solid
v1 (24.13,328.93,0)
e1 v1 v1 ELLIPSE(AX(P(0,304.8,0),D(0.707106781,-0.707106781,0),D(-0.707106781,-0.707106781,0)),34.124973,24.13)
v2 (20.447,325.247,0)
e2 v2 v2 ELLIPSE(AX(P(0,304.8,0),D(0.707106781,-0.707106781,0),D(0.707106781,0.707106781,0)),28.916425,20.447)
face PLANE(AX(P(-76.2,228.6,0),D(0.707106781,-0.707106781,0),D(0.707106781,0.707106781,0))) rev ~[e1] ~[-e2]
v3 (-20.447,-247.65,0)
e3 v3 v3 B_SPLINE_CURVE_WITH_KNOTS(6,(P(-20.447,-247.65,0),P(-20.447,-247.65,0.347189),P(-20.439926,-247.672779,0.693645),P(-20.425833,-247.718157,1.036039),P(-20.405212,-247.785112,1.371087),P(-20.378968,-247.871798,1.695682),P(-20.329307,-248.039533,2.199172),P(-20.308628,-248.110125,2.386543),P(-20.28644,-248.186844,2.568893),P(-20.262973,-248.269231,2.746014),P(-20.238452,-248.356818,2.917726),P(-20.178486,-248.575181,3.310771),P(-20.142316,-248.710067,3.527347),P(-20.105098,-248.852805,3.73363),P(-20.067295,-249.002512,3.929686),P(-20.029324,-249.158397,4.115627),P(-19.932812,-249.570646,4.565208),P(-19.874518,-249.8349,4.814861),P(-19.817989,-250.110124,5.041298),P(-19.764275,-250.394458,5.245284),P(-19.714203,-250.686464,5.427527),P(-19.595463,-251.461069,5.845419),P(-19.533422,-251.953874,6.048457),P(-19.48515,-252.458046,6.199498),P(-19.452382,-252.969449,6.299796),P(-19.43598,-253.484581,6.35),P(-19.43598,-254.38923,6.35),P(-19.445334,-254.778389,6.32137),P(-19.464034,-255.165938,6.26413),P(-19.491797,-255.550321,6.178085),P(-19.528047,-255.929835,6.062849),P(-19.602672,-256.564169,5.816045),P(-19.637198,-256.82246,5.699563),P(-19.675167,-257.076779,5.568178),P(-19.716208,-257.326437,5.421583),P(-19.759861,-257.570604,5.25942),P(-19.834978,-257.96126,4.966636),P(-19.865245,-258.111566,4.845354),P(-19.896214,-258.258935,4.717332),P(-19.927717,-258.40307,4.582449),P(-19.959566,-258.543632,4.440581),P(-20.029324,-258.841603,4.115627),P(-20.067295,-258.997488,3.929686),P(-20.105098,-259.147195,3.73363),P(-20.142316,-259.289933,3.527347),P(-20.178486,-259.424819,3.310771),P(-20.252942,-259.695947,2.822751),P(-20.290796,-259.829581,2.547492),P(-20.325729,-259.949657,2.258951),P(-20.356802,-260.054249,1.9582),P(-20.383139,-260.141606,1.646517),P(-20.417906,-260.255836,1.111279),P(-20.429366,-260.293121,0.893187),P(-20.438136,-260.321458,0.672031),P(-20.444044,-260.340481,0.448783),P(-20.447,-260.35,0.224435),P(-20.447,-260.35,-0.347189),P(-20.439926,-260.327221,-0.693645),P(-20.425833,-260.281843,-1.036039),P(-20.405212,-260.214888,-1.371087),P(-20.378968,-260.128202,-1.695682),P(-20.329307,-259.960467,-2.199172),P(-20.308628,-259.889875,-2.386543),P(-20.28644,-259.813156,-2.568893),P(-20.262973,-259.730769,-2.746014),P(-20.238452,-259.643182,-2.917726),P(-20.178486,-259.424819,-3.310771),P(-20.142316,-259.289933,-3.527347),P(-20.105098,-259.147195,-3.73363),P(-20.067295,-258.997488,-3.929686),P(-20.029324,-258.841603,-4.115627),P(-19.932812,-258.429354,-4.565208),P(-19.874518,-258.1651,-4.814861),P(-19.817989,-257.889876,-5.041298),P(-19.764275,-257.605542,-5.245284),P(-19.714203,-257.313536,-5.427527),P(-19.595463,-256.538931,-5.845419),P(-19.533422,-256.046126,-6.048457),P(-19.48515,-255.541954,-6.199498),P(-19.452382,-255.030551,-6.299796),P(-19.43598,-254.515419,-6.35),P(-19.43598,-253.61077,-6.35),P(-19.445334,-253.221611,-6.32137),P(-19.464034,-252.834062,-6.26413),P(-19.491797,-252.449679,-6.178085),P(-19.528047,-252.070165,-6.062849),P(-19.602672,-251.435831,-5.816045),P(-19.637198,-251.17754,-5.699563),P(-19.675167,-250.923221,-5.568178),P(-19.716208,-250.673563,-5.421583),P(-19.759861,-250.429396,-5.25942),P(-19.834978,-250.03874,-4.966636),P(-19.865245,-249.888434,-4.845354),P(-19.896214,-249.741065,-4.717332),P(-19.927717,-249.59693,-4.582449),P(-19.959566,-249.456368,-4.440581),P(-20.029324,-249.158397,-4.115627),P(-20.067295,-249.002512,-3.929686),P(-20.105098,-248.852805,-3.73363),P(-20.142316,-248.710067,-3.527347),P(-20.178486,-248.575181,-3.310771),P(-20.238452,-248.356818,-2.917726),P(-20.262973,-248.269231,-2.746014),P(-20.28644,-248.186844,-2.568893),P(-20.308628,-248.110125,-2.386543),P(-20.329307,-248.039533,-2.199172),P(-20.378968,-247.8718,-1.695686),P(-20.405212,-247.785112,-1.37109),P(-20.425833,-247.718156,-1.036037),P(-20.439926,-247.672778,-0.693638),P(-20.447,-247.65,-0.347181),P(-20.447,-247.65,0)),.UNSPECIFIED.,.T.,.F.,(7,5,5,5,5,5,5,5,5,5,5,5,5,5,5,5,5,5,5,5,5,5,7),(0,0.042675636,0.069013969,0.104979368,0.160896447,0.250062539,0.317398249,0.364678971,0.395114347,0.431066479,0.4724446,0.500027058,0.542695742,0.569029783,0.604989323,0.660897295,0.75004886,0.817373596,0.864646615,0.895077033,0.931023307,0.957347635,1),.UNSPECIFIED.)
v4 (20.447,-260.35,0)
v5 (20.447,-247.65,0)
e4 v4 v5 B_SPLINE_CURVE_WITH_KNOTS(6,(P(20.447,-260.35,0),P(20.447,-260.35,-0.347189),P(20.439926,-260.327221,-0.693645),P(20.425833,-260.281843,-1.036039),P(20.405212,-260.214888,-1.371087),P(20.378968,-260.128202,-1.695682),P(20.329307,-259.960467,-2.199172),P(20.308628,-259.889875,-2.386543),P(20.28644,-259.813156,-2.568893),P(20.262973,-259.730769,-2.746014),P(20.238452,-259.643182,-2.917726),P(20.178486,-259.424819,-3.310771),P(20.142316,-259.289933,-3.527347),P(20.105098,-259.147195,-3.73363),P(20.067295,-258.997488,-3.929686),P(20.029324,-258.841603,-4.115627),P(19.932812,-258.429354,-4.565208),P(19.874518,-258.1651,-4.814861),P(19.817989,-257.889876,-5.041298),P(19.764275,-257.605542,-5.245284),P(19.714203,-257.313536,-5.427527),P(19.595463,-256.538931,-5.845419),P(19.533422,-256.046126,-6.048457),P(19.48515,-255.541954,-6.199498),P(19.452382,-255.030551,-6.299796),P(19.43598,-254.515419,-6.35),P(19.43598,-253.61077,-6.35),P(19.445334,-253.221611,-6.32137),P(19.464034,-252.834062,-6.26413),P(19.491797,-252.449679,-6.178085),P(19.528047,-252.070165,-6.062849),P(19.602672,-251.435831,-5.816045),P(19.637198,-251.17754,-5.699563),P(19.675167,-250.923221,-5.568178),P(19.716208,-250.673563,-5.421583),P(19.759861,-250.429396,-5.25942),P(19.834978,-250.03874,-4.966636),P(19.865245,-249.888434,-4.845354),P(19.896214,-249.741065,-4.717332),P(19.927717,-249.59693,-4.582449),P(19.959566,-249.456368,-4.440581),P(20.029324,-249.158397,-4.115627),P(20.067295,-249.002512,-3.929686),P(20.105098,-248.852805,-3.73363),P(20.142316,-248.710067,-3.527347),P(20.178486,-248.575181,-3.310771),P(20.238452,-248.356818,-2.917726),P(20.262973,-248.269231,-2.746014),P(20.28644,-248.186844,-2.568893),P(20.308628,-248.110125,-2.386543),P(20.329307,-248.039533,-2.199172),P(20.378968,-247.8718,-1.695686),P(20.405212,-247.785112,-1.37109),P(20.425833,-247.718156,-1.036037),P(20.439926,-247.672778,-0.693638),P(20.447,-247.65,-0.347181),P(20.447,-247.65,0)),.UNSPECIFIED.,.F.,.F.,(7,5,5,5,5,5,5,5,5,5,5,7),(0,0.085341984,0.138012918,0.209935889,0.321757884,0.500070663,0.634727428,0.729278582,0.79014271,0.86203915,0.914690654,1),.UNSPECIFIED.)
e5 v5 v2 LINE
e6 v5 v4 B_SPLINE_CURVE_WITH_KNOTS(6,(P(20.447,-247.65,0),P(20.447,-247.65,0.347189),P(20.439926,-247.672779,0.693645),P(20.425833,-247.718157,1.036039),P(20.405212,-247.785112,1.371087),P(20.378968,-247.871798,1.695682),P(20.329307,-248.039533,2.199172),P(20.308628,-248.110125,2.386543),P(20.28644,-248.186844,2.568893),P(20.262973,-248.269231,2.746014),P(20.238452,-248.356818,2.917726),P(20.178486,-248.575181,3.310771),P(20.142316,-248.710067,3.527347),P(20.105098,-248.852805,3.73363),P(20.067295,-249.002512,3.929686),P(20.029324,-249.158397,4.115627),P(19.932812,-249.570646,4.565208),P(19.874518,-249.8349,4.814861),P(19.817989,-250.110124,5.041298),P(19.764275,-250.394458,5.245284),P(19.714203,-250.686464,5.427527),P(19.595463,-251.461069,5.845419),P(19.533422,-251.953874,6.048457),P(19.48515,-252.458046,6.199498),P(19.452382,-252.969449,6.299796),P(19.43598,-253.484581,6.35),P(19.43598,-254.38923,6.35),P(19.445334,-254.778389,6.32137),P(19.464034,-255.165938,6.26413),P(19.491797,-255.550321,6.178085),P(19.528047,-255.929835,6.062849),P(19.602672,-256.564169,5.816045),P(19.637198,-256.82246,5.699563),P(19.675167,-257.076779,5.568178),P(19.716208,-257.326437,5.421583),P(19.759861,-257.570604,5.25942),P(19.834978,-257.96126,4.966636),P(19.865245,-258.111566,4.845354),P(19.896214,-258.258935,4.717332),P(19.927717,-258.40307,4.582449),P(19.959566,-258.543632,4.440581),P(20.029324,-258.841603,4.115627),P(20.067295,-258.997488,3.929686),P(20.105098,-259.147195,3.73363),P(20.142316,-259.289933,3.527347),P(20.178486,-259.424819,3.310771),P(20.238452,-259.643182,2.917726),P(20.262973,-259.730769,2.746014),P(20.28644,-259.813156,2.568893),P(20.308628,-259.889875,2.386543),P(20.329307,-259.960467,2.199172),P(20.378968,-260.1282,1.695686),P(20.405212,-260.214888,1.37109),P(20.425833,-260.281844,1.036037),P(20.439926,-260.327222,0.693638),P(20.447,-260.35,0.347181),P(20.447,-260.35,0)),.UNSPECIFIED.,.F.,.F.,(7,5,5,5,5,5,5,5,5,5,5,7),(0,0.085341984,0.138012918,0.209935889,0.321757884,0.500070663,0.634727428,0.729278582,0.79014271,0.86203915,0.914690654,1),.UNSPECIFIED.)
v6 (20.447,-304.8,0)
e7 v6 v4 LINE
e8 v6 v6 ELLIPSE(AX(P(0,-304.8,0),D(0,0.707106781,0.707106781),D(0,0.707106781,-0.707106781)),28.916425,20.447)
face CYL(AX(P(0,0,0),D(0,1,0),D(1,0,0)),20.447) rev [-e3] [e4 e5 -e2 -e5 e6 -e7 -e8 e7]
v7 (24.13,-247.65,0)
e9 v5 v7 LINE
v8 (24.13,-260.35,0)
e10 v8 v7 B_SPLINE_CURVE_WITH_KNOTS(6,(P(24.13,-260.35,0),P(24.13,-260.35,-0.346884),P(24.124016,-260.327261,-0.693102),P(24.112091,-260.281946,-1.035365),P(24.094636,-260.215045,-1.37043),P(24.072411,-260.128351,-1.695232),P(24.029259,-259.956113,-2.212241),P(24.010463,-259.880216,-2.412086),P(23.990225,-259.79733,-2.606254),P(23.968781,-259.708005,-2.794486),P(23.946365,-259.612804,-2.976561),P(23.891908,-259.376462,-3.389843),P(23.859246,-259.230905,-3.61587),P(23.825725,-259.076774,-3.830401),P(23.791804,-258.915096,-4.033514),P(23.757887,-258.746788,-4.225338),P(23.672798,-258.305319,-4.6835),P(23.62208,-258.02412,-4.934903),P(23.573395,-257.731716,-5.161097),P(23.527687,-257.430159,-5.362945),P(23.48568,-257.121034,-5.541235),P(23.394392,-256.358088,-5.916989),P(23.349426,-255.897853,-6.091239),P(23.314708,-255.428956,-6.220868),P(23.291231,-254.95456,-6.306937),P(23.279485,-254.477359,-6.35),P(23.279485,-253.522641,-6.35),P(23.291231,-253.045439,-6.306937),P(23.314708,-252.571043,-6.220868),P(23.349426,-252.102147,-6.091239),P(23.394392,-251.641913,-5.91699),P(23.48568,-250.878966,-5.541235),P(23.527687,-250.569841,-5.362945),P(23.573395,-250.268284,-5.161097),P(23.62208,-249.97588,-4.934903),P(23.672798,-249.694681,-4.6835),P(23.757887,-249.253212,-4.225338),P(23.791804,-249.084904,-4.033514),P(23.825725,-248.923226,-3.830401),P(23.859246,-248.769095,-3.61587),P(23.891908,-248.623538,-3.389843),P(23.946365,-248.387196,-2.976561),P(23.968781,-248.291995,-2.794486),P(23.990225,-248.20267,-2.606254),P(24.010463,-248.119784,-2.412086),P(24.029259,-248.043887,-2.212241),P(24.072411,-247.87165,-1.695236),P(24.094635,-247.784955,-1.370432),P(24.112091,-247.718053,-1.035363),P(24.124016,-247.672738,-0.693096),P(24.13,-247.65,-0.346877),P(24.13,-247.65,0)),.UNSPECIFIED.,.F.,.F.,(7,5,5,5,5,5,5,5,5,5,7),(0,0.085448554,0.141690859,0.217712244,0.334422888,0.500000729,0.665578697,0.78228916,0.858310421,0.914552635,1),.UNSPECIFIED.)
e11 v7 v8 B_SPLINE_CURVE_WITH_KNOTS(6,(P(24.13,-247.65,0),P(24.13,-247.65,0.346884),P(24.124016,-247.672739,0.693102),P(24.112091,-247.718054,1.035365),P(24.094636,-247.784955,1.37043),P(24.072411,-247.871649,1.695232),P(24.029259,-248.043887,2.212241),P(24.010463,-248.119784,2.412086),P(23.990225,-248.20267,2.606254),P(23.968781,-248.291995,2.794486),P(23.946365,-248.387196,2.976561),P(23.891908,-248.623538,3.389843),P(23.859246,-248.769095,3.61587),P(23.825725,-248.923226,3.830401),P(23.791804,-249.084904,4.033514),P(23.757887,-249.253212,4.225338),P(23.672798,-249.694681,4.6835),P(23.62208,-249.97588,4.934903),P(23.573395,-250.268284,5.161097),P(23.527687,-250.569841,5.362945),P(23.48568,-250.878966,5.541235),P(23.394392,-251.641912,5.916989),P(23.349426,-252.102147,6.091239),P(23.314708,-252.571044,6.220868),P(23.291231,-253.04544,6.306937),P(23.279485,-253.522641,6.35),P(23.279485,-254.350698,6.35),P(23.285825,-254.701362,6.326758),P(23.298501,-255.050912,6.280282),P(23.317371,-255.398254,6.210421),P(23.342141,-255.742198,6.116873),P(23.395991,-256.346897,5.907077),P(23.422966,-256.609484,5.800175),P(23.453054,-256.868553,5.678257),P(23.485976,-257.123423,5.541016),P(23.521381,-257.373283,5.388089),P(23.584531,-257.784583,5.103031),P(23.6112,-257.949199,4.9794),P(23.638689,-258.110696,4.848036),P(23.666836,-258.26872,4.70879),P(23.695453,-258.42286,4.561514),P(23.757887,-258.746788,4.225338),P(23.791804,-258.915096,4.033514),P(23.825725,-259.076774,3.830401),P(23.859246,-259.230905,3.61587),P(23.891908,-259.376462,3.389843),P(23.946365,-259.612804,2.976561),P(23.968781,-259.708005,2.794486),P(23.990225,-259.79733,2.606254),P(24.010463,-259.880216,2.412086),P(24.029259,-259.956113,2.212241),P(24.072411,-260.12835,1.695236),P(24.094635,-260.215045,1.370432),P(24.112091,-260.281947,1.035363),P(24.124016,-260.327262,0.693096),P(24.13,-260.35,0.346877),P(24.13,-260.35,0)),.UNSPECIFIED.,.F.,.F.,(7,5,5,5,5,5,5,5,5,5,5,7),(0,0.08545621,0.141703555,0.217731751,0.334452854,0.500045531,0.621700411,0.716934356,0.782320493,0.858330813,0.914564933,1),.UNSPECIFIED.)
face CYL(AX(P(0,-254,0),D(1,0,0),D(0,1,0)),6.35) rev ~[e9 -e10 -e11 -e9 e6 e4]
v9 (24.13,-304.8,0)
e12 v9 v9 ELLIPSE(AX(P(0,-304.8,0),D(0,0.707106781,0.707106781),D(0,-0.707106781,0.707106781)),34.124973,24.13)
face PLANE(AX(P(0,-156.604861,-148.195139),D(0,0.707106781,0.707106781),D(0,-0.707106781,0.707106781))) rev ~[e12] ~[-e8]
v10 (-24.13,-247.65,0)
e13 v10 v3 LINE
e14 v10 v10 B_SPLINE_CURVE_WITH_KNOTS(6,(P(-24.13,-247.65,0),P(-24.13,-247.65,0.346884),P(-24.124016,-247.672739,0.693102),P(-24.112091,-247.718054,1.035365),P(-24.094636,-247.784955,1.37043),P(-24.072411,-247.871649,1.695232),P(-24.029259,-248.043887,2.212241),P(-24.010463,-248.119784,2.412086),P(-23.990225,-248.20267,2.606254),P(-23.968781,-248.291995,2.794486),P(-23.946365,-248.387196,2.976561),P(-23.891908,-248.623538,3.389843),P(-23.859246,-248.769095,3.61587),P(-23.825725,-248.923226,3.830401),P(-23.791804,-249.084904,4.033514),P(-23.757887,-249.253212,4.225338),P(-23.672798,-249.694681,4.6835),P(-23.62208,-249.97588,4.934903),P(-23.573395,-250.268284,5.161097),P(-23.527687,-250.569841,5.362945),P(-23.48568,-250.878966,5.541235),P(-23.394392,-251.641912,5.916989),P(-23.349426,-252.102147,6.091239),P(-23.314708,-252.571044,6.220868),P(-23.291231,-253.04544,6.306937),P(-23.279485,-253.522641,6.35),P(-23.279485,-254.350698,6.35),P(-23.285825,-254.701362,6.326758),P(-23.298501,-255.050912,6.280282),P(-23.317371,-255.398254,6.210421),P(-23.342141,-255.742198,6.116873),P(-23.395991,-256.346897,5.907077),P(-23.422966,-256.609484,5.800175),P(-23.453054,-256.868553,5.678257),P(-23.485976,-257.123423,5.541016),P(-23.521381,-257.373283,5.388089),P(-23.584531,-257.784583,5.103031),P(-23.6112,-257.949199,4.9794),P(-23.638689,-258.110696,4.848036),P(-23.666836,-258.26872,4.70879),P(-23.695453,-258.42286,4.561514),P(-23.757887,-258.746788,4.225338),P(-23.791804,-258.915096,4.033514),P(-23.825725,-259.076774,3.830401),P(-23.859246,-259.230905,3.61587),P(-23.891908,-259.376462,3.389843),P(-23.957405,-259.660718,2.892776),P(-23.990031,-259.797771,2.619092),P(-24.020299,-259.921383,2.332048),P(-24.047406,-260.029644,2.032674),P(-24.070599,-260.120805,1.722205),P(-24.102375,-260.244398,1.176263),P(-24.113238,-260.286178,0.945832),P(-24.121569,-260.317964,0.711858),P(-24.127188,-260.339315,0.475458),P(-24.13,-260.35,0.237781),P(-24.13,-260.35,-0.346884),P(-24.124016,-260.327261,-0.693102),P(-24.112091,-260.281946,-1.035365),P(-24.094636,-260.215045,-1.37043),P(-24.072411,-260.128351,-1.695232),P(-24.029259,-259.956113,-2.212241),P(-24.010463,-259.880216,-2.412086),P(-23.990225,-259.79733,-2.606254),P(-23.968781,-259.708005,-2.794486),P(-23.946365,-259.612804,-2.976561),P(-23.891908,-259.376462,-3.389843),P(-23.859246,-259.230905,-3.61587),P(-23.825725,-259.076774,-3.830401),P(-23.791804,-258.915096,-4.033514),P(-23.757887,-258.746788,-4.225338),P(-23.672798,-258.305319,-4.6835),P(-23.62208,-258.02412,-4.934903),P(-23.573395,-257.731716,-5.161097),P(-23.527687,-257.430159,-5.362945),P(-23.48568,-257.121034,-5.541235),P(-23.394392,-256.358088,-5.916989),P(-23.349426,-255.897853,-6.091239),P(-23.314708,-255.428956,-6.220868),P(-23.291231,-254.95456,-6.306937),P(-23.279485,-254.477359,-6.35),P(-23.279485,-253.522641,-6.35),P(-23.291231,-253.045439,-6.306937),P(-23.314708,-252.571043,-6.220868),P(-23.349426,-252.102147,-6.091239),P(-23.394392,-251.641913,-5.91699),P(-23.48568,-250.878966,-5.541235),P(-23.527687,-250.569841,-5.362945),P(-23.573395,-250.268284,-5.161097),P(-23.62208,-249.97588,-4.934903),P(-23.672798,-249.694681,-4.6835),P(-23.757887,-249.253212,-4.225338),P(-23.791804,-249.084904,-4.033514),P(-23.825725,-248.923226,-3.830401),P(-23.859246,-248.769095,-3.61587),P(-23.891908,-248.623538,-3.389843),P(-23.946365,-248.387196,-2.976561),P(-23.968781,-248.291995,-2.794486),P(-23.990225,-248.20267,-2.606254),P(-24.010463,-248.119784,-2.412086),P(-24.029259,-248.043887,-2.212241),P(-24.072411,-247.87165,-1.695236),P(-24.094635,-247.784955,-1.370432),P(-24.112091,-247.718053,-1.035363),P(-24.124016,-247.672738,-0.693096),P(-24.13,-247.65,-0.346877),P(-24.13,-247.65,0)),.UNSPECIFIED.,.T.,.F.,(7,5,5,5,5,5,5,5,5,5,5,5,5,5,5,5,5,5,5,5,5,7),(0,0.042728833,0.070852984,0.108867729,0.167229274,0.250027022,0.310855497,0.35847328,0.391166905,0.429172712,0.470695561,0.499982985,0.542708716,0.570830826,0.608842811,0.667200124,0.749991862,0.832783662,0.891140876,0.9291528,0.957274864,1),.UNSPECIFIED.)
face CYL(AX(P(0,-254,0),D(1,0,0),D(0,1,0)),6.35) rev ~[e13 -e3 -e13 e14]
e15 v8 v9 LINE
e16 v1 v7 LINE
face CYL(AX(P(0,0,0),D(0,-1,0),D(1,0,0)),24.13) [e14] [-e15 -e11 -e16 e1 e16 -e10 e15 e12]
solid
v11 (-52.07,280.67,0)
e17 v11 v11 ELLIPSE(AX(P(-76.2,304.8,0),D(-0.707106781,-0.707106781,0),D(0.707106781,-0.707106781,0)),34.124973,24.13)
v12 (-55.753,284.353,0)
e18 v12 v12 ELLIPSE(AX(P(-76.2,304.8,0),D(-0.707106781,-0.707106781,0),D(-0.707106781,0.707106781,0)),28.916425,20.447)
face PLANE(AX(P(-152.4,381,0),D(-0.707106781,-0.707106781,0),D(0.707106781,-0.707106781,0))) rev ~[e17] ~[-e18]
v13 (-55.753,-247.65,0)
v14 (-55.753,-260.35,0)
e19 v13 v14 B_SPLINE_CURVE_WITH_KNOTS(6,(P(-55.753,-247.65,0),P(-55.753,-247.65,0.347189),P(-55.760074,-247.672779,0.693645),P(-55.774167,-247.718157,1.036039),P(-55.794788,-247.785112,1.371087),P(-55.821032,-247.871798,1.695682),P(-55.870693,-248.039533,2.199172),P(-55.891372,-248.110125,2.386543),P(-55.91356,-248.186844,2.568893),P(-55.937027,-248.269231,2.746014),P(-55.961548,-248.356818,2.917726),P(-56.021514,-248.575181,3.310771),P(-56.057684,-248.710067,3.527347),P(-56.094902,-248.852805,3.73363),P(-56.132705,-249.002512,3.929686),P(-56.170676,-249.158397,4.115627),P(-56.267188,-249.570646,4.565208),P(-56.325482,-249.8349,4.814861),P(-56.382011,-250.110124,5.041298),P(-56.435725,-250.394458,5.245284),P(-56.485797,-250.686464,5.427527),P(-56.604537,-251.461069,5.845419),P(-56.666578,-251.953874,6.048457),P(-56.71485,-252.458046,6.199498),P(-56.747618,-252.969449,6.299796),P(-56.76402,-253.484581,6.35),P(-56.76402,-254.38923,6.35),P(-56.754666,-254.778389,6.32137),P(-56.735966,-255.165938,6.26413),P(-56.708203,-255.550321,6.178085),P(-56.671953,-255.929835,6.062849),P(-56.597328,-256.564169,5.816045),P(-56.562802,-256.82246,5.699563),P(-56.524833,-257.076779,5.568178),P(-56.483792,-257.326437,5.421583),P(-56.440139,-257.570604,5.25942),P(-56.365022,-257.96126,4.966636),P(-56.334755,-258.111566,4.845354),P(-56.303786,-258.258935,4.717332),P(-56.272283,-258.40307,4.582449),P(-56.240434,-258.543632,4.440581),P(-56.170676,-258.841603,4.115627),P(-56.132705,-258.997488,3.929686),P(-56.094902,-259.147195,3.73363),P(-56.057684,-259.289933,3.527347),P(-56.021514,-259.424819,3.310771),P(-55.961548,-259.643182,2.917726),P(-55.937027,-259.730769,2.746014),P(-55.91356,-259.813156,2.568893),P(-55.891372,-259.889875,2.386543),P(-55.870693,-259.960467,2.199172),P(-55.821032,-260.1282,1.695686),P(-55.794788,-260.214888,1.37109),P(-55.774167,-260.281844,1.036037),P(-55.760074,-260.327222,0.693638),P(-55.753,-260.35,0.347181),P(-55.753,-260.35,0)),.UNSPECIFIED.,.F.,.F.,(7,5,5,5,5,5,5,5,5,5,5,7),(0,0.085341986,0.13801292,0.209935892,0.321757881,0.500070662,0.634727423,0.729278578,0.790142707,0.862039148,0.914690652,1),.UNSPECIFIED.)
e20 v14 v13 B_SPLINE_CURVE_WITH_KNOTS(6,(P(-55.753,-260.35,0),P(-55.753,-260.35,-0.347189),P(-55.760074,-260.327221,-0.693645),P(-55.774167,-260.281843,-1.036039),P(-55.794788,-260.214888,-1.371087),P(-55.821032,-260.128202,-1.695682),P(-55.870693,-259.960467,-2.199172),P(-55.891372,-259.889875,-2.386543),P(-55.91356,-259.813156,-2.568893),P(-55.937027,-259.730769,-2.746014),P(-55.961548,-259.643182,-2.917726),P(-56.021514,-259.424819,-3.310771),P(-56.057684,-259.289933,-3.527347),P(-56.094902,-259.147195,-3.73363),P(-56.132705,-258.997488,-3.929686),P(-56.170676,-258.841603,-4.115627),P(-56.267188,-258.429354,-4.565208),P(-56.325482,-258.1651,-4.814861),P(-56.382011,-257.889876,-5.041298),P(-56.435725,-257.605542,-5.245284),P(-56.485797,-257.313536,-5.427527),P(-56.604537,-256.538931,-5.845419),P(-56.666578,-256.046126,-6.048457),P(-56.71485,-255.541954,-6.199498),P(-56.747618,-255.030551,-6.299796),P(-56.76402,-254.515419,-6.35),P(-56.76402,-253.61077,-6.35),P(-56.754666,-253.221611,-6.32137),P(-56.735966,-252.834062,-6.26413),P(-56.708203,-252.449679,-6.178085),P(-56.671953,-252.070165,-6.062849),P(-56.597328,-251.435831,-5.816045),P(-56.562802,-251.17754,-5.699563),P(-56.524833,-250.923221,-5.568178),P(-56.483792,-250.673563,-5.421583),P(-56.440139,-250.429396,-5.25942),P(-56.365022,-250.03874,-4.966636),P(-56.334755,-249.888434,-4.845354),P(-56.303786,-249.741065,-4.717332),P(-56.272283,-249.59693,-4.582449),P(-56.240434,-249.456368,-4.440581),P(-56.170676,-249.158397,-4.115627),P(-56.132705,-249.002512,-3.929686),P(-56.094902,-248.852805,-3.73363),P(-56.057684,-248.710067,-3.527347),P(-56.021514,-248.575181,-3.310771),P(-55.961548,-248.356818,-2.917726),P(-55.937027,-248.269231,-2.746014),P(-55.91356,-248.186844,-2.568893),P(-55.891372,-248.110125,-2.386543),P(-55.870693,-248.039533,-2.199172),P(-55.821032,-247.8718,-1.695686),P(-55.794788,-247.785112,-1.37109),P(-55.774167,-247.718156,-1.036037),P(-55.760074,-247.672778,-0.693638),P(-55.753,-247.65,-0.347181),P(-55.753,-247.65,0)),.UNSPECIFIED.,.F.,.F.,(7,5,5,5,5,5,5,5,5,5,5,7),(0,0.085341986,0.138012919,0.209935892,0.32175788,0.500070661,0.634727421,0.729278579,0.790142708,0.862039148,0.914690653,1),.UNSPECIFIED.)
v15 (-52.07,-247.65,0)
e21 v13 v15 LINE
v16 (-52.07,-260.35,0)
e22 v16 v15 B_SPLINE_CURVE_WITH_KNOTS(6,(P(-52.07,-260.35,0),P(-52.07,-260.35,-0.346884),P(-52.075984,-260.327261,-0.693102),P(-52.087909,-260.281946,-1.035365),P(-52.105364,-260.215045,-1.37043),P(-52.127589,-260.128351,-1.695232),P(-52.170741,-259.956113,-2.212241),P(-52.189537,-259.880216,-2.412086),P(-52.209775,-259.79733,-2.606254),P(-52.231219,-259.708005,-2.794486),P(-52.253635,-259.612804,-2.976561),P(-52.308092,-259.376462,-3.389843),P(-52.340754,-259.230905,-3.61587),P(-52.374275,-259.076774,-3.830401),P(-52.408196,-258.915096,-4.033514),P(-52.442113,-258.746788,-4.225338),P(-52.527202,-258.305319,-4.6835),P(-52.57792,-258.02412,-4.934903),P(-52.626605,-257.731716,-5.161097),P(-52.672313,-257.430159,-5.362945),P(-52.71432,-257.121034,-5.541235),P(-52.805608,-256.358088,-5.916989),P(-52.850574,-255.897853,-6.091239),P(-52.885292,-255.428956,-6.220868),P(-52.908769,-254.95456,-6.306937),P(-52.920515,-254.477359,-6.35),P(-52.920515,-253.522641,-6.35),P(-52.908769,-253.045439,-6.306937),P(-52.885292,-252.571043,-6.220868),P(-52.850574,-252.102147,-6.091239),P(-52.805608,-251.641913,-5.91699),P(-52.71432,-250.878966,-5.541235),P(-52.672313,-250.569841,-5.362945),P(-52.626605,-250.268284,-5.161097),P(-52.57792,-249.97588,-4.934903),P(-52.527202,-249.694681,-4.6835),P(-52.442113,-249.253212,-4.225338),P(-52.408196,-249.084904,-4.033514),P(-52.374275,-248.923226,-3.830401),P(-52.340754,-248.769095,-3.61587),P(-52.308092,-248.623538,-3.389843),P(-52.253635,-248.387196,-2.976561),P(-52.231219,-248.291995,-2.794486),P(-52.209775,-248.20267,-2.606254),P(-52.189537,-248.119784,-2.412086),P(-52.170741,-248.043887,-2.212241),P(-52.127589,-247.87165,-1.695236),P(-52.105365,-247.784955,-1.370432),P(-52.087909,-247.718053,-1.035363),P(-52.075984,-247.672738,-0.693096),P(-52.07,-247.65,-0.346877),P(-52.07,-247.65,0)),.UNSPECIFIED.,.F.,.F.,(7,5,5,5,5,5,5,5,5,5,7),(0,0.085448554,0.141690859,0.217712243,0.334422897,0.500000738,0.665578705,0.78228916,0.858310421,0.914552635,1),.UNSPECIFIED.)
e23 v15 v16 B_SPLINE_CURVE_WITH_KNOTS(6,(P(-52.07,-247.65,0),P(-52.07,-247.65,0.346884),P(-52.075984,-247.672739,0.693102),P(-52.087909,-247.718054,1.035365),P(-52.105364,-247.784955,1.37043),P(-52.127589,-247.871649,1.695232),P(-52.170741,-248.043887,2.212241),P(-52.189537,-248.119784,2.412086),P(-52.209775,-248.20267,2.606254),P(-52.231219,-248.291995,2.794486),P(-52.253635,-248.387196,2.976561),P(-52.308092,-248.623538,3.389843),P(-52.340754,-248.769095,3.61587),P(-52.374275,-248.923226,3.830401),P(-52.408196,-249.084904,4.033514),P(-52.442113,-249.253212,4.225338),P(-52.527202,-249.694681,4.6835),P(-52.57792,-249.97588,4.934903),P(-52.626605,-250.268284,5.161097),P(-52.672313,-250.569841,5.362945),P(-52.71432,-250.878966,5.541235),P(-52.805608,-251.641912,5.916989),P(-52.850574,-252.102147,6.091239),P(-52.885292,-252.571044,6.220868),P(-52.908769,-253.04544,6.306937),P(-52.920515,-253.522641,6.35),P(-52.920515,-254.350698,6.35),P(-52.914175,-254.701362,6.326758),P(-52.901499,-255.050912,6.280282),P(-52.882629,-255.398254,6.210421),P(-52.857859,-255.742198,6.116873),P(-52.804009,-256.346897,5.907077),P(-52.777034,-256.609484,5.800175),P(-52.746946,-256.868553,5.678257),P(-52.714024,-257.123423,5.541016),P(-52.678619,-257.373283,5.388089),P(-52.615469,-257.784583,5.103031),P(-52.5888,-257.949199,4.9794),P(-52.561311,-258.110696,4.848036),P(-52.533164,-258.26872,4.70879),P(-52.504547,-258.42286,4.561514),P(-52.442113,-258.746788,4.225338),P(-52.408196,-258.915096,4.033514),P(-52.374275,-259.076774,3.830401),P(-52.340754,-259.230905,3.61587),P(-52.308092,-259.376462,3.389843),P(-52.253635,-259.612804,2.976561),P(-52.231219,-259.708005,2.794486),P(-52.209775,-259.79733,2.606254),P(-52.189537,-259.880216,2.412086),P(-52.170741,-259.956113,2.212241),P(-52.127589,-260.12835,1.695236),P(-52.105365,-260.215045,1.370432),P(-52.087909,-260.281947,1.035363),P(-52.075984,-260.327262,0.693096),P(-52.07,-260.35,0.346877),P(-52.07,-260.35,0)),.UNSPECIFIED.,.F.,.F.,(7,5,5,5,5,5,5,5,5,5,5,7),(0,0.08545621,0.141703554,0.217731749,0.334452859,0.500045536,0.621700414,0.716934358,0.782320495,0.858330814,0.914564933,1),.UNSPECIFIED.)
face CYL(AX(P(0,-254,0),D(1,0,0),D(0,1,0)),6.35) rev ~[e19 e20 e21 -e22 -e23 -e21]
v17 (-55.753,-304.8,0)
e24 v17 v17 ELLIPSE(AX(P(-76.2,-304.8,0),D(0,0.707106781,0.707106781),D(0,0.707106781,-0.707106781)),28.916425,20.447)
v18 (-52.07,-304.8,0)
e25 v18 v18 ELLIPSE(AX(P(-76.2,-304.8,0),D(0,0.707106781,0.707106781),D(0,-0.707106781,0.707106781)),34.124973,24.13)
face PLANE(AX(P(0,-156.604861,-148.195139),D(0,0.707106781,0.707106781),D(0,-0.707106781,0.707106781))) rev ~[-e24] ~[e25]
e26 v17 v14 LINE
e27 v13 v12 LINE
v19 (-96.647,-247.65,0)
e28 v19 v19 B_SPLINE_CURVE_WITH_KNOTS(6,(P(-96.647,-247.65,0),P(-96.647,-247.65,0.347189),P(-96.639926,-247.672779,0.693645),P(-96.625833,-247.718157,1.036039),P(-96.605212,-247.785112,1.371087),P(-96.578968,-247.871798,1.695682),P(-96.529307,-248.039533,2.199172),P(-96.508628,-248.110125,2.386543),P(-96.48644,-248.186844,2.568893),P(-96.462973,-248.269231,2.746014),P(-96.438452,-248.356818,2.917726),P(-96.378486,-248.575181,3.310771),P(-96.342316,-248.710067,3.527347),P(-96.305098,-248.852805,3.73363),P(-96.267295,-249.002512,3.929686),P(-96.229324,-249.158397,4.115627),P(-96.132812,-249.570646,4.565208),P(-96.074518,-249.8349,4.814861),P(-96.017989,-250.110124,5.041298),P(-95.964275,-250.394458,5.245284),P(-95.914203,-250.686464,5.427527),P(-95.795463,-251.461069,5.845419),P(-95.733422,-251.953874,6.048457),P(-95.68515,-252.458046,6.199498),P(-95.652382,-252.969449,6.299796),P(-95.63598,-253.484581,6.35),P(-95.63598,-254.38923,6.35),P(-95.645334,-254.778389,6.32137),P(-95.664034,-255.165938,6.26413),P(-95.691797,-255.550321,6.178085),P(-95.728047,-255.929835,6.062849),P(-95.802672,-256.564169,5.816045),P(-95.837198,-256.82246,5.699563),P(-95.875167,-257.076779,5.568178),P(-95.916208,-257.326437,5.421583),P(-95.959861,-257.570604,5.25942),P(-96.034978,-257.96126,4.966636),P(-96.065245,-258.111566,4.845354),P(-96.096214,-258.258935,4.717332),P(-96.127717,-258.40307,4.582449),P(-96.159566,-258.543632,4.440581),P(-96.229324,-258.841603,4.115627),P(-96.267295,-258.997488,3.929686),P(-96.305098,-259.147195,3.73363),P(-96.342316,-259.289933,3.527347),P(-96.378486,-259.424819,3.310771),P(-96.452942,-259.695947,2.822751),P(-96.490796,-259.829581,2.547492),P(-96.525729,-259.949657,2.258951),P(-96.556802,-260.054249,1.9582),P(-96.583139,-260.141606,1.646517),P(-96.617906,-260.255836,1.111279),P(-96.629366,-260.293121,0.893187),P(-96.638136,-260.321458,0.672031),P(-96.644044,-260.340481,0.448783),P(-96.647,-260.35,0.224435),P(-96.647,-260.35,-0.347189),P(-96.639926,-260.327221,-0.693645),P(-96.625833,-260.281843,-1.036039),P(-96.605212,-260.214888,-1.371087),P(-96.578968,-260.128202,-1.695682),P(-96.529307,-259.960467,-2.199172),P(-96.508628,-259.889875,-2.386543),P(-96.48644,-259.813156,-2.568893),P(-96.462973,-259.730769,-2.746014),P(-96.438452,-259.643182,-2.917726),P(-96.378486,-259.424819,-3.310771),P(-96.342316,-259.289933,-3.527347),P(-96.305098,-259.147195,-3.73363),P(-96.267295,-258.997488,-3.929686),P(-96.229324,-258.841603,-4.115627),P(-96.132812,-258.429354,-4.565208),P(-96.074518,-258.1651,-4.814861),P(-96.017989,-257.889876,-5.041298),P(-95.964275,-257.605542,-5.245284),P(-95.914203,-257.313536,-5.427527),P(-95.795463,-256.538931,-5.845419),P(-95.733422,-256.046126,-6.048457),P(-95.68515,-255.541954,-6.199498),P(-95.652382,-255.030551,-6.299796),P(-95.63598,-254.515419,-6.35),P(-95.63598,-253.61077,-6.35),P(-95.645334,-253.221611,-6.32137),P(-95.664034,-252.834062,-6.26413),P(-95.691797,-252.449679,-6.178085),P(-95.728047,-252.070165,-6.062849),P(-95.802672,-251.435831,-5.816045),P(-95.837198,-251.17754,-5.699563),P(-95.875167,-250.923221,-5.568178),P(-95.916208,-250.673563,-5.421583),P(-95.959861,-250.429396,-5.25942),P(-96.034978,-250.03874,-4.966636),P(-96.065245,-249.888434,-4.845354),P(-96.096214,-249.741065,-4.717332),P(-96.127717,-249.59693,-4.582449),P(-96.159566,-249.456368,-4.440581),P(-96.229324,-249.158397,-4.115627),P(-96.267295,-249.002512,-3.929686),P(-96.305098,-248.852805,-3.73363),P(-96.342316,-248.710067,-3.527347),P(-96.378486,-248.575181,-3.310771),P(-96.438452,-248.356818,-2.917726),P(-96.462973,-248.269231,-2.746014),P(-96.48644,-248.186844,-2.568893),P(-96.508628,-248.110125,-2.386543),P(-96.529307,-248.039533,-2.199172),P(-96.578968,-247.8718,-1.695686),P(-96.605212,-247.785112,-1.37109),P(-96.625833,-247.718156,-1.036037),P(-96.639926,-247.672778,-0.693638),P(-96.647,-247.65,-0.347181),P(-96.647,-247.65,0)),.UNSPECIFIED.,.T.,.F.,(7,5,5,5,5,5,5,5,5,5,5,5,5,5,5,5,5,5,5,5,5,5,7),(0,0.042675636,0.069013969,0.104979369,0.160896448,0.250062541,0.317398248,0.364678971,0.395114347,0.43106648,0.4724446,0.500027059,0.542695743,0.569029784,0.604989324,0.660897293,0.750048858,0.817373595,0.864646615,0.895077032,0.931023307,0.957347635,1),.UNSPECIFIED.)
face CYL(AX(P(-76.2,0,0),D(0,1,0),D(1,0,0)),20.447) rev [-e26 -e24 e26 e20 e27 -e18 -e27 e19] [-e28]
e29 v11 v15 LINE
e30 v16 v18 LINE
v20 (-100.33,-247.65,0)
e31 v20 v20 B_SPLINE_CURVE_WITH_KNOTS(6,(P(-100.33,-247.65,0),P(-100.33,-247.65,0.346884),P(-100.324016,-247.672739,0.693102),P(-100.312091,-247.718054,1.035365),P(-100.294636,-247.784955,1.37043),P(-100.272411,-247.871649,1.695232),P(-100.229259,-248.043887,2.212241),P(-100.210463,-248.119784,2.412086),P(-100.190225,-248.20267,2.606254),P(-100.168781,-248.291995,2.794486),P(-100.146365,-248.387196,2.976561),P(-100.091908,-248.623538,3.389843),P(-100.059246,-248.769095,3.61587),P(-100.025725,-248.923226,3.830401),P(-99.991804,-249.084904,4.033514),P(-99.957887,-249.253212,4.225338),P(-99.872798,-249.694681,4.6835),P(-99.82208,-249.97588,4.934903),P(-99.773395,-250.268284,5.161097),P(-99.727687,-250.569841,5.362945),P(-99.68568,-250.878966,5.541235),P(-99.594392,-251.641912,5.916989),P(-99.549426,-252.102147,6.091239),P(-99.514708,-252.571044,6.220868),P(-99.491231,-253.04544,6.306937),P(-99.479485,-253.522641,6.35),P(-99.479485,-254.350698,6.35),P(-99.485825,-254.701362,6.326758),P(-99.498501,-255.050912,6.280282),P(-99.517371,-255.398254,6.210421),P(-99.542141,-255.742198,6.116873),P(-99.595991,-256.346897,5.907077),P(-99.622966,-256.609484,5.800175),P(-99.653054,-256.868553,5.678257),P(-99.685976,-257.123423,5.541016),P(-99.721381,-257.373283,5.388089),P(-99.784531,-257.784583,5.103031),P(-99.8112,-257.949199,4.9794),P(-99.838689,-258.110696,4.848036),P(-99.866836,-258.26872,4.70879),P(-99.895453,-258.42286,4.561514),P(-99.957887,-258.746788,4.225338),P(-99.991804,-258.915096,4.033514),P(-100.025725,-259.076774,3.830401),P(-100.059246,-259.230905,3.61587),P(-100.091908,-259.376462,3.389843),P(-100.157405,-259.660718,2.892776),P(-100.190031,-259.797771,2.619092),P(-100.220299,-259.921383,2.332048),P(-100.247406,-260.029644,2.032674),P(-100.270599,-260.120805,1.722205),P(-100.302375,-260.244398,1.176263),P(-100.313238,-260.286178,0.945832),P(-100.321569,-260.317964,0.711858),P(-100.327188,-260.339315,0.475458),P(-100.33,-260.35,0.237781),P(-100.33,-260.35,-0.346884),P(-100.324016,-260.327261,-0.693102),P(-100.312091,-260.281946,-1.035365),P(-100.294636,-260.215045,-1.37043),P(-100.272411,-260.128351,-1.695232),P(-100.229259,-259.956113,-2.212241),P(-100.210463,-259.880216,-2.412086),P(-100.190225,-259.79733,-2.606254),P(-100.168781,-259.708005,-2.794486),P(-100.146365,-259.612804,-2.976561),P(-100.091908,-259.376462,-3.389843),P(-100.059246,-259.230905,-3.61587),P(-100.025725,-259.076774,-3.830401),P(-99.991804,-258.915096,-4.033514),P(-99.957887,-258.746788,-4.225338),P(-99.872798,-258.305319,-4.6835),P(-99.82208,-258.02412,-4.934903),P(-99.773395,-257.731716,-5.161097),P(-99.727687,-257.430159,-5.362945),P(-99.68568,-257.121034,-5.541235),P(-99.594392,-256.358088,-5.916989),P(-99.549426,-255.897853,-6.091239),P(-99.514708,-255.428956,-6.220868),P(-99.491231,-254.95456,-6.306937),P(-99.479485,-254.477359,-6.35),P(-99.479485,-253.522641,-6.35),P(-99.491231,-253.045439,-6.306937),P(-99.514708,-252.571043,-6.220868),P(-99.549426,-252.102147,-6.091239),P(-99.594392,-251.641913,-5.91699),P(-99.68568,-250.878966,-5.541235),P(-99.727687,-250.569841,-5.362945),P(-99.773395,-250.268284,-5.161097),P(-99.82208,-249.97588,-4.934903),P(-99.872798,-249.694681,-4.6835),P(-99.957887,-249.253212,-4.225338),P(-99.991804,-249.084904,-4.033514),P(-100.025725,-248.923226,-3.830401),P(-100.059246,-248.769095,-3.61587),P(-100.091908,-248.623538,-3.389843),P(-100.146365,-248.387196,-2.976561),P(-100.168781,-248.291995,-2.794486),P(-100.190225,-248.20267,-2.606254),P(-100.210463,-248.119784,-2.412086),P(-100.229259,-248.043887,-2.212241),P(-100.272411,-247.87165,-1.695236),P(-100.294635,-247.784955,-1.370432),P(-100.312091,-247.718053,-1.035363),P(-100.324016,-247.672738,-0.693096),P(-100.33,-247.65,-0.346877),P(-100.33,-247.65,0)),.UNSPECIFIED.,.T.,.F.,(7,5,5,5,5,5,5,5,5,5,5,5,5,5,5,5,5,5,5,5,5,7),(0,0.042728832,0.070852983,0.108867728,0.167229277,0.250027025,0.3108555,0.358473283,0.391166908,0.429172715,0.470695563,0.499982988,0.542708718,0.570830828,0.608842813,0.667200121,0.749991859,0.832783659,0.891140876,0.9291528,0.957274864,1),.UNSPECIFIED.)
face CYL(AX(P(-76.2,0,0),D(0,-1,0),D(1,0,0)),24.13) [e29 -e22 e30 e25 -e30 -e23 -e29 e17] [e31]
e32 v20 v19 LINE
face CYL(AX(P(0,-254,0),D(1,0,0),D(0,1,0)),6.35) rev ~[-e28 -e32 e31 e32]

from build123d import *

# Parameters (mm, degrees)
F0_R      = 24.13
F0_R_2    = 20.447
F1_DEPTH  = 355.6
F2_R      = 24.13
F2_R_2    = 20.447
F3_DEPTH  = 355.6
F5_DEPTH  = 152.4
F7_DEPTH  = 76.2
F9_DEPTH  = 76.2
F10_R     = 6.35
F11_DEPTH = 152.4


with BuildPart() as f1:
    # F0 (on Front) → F1 (new body, symmetric)
    with BuildSketch(Plane.XZ):
        Circle(F0_R)
        Circle(F0_R_2, mode=Mode.SUBTRACT)
    extrude(amount=F1_DEPTH, both=True)


with BuildPart() as f3:
    # F2 (on Front) → F3 (new body, symmetric)
    with BuildSketch(Plane.XZ):
        with Locations((-76.2, 0)):
            Circle(F2_R)
        with Locations((-76.2, 0)):
            Circle(F2_R_2, mode=Mode.SUBTRACT)
    extrude(amount=F3_DEPTH, both=True)


with BuildPart() as f5_tool:
    # F4 (on Right) → F5 (new body, symmetric)
    with BuildSketch(Plane.YZ):
        Polygon((-156.6048606801, -148.1951393199), (-304.8, 0), (-400.4833865581, 95.6833865581), (-522.7957103763, 95.6833865581), (-522.7957103763, -148.1951393199), align=None)
    extrude(amount=F5_DEPTH, both=True)


with BuildPart() as f1_1:
    add(f1.part)

    # F5: cut by f5_tool
    add(f5_tool.part, mode=Mode.SUBTRACT)

    # F6 (on Top) → F7 (cut, symmetric)
    with BuildSketch(Plane.XY):
        Polygon((-76.2, 228.6), (0, 304.8), (76.2, 381), (76.2, 508), (-76.2, 508), align=None)
    extrude(amount=F7_DEPTH, both=True, mode=Mode.SUBTRACT)


with BuildPart() as f3_1:
    add(f3.part)

    # F5: cut by f5_tool
    add(f5_tool.part, mode=Mode.SUBTRACT)

    # F8 (on Top) → F9 (cut, symmetric)
    with BuildSketch(Plane.XY):
        Polygon((-152.4, 381), (-76.2, 304.8), (0, 228.6), (0, 508), (-152.4, 508), align=None)
    extrude(amount=F9_DEPTH, both=True, mode=Mode.SUBTRACT)


with BuildPart() as f11_tool:
    # F10 (on Right) → F11 (new body, symmetric)
    with BuildSketch(Plane.YZ):
        with Locations((-254, 0)):
            Circle(F10_R)
    extrude(amount=F11_DEPTH, both=True)


with BuildPart() as f1_2:
    add(f1_1.part)

    # F11: cut by f11_tool
    add(f11_tool.part, mode=Mode.SUBTRACT)


with BuildPart() as f3_2:
    add(f3_1.part)

    # F11: cut by f11_tool
    add(f11_tool.part, mode=Mode.SUBTRACT)


solid = Compound([f1_2.part, f3_2.part])
